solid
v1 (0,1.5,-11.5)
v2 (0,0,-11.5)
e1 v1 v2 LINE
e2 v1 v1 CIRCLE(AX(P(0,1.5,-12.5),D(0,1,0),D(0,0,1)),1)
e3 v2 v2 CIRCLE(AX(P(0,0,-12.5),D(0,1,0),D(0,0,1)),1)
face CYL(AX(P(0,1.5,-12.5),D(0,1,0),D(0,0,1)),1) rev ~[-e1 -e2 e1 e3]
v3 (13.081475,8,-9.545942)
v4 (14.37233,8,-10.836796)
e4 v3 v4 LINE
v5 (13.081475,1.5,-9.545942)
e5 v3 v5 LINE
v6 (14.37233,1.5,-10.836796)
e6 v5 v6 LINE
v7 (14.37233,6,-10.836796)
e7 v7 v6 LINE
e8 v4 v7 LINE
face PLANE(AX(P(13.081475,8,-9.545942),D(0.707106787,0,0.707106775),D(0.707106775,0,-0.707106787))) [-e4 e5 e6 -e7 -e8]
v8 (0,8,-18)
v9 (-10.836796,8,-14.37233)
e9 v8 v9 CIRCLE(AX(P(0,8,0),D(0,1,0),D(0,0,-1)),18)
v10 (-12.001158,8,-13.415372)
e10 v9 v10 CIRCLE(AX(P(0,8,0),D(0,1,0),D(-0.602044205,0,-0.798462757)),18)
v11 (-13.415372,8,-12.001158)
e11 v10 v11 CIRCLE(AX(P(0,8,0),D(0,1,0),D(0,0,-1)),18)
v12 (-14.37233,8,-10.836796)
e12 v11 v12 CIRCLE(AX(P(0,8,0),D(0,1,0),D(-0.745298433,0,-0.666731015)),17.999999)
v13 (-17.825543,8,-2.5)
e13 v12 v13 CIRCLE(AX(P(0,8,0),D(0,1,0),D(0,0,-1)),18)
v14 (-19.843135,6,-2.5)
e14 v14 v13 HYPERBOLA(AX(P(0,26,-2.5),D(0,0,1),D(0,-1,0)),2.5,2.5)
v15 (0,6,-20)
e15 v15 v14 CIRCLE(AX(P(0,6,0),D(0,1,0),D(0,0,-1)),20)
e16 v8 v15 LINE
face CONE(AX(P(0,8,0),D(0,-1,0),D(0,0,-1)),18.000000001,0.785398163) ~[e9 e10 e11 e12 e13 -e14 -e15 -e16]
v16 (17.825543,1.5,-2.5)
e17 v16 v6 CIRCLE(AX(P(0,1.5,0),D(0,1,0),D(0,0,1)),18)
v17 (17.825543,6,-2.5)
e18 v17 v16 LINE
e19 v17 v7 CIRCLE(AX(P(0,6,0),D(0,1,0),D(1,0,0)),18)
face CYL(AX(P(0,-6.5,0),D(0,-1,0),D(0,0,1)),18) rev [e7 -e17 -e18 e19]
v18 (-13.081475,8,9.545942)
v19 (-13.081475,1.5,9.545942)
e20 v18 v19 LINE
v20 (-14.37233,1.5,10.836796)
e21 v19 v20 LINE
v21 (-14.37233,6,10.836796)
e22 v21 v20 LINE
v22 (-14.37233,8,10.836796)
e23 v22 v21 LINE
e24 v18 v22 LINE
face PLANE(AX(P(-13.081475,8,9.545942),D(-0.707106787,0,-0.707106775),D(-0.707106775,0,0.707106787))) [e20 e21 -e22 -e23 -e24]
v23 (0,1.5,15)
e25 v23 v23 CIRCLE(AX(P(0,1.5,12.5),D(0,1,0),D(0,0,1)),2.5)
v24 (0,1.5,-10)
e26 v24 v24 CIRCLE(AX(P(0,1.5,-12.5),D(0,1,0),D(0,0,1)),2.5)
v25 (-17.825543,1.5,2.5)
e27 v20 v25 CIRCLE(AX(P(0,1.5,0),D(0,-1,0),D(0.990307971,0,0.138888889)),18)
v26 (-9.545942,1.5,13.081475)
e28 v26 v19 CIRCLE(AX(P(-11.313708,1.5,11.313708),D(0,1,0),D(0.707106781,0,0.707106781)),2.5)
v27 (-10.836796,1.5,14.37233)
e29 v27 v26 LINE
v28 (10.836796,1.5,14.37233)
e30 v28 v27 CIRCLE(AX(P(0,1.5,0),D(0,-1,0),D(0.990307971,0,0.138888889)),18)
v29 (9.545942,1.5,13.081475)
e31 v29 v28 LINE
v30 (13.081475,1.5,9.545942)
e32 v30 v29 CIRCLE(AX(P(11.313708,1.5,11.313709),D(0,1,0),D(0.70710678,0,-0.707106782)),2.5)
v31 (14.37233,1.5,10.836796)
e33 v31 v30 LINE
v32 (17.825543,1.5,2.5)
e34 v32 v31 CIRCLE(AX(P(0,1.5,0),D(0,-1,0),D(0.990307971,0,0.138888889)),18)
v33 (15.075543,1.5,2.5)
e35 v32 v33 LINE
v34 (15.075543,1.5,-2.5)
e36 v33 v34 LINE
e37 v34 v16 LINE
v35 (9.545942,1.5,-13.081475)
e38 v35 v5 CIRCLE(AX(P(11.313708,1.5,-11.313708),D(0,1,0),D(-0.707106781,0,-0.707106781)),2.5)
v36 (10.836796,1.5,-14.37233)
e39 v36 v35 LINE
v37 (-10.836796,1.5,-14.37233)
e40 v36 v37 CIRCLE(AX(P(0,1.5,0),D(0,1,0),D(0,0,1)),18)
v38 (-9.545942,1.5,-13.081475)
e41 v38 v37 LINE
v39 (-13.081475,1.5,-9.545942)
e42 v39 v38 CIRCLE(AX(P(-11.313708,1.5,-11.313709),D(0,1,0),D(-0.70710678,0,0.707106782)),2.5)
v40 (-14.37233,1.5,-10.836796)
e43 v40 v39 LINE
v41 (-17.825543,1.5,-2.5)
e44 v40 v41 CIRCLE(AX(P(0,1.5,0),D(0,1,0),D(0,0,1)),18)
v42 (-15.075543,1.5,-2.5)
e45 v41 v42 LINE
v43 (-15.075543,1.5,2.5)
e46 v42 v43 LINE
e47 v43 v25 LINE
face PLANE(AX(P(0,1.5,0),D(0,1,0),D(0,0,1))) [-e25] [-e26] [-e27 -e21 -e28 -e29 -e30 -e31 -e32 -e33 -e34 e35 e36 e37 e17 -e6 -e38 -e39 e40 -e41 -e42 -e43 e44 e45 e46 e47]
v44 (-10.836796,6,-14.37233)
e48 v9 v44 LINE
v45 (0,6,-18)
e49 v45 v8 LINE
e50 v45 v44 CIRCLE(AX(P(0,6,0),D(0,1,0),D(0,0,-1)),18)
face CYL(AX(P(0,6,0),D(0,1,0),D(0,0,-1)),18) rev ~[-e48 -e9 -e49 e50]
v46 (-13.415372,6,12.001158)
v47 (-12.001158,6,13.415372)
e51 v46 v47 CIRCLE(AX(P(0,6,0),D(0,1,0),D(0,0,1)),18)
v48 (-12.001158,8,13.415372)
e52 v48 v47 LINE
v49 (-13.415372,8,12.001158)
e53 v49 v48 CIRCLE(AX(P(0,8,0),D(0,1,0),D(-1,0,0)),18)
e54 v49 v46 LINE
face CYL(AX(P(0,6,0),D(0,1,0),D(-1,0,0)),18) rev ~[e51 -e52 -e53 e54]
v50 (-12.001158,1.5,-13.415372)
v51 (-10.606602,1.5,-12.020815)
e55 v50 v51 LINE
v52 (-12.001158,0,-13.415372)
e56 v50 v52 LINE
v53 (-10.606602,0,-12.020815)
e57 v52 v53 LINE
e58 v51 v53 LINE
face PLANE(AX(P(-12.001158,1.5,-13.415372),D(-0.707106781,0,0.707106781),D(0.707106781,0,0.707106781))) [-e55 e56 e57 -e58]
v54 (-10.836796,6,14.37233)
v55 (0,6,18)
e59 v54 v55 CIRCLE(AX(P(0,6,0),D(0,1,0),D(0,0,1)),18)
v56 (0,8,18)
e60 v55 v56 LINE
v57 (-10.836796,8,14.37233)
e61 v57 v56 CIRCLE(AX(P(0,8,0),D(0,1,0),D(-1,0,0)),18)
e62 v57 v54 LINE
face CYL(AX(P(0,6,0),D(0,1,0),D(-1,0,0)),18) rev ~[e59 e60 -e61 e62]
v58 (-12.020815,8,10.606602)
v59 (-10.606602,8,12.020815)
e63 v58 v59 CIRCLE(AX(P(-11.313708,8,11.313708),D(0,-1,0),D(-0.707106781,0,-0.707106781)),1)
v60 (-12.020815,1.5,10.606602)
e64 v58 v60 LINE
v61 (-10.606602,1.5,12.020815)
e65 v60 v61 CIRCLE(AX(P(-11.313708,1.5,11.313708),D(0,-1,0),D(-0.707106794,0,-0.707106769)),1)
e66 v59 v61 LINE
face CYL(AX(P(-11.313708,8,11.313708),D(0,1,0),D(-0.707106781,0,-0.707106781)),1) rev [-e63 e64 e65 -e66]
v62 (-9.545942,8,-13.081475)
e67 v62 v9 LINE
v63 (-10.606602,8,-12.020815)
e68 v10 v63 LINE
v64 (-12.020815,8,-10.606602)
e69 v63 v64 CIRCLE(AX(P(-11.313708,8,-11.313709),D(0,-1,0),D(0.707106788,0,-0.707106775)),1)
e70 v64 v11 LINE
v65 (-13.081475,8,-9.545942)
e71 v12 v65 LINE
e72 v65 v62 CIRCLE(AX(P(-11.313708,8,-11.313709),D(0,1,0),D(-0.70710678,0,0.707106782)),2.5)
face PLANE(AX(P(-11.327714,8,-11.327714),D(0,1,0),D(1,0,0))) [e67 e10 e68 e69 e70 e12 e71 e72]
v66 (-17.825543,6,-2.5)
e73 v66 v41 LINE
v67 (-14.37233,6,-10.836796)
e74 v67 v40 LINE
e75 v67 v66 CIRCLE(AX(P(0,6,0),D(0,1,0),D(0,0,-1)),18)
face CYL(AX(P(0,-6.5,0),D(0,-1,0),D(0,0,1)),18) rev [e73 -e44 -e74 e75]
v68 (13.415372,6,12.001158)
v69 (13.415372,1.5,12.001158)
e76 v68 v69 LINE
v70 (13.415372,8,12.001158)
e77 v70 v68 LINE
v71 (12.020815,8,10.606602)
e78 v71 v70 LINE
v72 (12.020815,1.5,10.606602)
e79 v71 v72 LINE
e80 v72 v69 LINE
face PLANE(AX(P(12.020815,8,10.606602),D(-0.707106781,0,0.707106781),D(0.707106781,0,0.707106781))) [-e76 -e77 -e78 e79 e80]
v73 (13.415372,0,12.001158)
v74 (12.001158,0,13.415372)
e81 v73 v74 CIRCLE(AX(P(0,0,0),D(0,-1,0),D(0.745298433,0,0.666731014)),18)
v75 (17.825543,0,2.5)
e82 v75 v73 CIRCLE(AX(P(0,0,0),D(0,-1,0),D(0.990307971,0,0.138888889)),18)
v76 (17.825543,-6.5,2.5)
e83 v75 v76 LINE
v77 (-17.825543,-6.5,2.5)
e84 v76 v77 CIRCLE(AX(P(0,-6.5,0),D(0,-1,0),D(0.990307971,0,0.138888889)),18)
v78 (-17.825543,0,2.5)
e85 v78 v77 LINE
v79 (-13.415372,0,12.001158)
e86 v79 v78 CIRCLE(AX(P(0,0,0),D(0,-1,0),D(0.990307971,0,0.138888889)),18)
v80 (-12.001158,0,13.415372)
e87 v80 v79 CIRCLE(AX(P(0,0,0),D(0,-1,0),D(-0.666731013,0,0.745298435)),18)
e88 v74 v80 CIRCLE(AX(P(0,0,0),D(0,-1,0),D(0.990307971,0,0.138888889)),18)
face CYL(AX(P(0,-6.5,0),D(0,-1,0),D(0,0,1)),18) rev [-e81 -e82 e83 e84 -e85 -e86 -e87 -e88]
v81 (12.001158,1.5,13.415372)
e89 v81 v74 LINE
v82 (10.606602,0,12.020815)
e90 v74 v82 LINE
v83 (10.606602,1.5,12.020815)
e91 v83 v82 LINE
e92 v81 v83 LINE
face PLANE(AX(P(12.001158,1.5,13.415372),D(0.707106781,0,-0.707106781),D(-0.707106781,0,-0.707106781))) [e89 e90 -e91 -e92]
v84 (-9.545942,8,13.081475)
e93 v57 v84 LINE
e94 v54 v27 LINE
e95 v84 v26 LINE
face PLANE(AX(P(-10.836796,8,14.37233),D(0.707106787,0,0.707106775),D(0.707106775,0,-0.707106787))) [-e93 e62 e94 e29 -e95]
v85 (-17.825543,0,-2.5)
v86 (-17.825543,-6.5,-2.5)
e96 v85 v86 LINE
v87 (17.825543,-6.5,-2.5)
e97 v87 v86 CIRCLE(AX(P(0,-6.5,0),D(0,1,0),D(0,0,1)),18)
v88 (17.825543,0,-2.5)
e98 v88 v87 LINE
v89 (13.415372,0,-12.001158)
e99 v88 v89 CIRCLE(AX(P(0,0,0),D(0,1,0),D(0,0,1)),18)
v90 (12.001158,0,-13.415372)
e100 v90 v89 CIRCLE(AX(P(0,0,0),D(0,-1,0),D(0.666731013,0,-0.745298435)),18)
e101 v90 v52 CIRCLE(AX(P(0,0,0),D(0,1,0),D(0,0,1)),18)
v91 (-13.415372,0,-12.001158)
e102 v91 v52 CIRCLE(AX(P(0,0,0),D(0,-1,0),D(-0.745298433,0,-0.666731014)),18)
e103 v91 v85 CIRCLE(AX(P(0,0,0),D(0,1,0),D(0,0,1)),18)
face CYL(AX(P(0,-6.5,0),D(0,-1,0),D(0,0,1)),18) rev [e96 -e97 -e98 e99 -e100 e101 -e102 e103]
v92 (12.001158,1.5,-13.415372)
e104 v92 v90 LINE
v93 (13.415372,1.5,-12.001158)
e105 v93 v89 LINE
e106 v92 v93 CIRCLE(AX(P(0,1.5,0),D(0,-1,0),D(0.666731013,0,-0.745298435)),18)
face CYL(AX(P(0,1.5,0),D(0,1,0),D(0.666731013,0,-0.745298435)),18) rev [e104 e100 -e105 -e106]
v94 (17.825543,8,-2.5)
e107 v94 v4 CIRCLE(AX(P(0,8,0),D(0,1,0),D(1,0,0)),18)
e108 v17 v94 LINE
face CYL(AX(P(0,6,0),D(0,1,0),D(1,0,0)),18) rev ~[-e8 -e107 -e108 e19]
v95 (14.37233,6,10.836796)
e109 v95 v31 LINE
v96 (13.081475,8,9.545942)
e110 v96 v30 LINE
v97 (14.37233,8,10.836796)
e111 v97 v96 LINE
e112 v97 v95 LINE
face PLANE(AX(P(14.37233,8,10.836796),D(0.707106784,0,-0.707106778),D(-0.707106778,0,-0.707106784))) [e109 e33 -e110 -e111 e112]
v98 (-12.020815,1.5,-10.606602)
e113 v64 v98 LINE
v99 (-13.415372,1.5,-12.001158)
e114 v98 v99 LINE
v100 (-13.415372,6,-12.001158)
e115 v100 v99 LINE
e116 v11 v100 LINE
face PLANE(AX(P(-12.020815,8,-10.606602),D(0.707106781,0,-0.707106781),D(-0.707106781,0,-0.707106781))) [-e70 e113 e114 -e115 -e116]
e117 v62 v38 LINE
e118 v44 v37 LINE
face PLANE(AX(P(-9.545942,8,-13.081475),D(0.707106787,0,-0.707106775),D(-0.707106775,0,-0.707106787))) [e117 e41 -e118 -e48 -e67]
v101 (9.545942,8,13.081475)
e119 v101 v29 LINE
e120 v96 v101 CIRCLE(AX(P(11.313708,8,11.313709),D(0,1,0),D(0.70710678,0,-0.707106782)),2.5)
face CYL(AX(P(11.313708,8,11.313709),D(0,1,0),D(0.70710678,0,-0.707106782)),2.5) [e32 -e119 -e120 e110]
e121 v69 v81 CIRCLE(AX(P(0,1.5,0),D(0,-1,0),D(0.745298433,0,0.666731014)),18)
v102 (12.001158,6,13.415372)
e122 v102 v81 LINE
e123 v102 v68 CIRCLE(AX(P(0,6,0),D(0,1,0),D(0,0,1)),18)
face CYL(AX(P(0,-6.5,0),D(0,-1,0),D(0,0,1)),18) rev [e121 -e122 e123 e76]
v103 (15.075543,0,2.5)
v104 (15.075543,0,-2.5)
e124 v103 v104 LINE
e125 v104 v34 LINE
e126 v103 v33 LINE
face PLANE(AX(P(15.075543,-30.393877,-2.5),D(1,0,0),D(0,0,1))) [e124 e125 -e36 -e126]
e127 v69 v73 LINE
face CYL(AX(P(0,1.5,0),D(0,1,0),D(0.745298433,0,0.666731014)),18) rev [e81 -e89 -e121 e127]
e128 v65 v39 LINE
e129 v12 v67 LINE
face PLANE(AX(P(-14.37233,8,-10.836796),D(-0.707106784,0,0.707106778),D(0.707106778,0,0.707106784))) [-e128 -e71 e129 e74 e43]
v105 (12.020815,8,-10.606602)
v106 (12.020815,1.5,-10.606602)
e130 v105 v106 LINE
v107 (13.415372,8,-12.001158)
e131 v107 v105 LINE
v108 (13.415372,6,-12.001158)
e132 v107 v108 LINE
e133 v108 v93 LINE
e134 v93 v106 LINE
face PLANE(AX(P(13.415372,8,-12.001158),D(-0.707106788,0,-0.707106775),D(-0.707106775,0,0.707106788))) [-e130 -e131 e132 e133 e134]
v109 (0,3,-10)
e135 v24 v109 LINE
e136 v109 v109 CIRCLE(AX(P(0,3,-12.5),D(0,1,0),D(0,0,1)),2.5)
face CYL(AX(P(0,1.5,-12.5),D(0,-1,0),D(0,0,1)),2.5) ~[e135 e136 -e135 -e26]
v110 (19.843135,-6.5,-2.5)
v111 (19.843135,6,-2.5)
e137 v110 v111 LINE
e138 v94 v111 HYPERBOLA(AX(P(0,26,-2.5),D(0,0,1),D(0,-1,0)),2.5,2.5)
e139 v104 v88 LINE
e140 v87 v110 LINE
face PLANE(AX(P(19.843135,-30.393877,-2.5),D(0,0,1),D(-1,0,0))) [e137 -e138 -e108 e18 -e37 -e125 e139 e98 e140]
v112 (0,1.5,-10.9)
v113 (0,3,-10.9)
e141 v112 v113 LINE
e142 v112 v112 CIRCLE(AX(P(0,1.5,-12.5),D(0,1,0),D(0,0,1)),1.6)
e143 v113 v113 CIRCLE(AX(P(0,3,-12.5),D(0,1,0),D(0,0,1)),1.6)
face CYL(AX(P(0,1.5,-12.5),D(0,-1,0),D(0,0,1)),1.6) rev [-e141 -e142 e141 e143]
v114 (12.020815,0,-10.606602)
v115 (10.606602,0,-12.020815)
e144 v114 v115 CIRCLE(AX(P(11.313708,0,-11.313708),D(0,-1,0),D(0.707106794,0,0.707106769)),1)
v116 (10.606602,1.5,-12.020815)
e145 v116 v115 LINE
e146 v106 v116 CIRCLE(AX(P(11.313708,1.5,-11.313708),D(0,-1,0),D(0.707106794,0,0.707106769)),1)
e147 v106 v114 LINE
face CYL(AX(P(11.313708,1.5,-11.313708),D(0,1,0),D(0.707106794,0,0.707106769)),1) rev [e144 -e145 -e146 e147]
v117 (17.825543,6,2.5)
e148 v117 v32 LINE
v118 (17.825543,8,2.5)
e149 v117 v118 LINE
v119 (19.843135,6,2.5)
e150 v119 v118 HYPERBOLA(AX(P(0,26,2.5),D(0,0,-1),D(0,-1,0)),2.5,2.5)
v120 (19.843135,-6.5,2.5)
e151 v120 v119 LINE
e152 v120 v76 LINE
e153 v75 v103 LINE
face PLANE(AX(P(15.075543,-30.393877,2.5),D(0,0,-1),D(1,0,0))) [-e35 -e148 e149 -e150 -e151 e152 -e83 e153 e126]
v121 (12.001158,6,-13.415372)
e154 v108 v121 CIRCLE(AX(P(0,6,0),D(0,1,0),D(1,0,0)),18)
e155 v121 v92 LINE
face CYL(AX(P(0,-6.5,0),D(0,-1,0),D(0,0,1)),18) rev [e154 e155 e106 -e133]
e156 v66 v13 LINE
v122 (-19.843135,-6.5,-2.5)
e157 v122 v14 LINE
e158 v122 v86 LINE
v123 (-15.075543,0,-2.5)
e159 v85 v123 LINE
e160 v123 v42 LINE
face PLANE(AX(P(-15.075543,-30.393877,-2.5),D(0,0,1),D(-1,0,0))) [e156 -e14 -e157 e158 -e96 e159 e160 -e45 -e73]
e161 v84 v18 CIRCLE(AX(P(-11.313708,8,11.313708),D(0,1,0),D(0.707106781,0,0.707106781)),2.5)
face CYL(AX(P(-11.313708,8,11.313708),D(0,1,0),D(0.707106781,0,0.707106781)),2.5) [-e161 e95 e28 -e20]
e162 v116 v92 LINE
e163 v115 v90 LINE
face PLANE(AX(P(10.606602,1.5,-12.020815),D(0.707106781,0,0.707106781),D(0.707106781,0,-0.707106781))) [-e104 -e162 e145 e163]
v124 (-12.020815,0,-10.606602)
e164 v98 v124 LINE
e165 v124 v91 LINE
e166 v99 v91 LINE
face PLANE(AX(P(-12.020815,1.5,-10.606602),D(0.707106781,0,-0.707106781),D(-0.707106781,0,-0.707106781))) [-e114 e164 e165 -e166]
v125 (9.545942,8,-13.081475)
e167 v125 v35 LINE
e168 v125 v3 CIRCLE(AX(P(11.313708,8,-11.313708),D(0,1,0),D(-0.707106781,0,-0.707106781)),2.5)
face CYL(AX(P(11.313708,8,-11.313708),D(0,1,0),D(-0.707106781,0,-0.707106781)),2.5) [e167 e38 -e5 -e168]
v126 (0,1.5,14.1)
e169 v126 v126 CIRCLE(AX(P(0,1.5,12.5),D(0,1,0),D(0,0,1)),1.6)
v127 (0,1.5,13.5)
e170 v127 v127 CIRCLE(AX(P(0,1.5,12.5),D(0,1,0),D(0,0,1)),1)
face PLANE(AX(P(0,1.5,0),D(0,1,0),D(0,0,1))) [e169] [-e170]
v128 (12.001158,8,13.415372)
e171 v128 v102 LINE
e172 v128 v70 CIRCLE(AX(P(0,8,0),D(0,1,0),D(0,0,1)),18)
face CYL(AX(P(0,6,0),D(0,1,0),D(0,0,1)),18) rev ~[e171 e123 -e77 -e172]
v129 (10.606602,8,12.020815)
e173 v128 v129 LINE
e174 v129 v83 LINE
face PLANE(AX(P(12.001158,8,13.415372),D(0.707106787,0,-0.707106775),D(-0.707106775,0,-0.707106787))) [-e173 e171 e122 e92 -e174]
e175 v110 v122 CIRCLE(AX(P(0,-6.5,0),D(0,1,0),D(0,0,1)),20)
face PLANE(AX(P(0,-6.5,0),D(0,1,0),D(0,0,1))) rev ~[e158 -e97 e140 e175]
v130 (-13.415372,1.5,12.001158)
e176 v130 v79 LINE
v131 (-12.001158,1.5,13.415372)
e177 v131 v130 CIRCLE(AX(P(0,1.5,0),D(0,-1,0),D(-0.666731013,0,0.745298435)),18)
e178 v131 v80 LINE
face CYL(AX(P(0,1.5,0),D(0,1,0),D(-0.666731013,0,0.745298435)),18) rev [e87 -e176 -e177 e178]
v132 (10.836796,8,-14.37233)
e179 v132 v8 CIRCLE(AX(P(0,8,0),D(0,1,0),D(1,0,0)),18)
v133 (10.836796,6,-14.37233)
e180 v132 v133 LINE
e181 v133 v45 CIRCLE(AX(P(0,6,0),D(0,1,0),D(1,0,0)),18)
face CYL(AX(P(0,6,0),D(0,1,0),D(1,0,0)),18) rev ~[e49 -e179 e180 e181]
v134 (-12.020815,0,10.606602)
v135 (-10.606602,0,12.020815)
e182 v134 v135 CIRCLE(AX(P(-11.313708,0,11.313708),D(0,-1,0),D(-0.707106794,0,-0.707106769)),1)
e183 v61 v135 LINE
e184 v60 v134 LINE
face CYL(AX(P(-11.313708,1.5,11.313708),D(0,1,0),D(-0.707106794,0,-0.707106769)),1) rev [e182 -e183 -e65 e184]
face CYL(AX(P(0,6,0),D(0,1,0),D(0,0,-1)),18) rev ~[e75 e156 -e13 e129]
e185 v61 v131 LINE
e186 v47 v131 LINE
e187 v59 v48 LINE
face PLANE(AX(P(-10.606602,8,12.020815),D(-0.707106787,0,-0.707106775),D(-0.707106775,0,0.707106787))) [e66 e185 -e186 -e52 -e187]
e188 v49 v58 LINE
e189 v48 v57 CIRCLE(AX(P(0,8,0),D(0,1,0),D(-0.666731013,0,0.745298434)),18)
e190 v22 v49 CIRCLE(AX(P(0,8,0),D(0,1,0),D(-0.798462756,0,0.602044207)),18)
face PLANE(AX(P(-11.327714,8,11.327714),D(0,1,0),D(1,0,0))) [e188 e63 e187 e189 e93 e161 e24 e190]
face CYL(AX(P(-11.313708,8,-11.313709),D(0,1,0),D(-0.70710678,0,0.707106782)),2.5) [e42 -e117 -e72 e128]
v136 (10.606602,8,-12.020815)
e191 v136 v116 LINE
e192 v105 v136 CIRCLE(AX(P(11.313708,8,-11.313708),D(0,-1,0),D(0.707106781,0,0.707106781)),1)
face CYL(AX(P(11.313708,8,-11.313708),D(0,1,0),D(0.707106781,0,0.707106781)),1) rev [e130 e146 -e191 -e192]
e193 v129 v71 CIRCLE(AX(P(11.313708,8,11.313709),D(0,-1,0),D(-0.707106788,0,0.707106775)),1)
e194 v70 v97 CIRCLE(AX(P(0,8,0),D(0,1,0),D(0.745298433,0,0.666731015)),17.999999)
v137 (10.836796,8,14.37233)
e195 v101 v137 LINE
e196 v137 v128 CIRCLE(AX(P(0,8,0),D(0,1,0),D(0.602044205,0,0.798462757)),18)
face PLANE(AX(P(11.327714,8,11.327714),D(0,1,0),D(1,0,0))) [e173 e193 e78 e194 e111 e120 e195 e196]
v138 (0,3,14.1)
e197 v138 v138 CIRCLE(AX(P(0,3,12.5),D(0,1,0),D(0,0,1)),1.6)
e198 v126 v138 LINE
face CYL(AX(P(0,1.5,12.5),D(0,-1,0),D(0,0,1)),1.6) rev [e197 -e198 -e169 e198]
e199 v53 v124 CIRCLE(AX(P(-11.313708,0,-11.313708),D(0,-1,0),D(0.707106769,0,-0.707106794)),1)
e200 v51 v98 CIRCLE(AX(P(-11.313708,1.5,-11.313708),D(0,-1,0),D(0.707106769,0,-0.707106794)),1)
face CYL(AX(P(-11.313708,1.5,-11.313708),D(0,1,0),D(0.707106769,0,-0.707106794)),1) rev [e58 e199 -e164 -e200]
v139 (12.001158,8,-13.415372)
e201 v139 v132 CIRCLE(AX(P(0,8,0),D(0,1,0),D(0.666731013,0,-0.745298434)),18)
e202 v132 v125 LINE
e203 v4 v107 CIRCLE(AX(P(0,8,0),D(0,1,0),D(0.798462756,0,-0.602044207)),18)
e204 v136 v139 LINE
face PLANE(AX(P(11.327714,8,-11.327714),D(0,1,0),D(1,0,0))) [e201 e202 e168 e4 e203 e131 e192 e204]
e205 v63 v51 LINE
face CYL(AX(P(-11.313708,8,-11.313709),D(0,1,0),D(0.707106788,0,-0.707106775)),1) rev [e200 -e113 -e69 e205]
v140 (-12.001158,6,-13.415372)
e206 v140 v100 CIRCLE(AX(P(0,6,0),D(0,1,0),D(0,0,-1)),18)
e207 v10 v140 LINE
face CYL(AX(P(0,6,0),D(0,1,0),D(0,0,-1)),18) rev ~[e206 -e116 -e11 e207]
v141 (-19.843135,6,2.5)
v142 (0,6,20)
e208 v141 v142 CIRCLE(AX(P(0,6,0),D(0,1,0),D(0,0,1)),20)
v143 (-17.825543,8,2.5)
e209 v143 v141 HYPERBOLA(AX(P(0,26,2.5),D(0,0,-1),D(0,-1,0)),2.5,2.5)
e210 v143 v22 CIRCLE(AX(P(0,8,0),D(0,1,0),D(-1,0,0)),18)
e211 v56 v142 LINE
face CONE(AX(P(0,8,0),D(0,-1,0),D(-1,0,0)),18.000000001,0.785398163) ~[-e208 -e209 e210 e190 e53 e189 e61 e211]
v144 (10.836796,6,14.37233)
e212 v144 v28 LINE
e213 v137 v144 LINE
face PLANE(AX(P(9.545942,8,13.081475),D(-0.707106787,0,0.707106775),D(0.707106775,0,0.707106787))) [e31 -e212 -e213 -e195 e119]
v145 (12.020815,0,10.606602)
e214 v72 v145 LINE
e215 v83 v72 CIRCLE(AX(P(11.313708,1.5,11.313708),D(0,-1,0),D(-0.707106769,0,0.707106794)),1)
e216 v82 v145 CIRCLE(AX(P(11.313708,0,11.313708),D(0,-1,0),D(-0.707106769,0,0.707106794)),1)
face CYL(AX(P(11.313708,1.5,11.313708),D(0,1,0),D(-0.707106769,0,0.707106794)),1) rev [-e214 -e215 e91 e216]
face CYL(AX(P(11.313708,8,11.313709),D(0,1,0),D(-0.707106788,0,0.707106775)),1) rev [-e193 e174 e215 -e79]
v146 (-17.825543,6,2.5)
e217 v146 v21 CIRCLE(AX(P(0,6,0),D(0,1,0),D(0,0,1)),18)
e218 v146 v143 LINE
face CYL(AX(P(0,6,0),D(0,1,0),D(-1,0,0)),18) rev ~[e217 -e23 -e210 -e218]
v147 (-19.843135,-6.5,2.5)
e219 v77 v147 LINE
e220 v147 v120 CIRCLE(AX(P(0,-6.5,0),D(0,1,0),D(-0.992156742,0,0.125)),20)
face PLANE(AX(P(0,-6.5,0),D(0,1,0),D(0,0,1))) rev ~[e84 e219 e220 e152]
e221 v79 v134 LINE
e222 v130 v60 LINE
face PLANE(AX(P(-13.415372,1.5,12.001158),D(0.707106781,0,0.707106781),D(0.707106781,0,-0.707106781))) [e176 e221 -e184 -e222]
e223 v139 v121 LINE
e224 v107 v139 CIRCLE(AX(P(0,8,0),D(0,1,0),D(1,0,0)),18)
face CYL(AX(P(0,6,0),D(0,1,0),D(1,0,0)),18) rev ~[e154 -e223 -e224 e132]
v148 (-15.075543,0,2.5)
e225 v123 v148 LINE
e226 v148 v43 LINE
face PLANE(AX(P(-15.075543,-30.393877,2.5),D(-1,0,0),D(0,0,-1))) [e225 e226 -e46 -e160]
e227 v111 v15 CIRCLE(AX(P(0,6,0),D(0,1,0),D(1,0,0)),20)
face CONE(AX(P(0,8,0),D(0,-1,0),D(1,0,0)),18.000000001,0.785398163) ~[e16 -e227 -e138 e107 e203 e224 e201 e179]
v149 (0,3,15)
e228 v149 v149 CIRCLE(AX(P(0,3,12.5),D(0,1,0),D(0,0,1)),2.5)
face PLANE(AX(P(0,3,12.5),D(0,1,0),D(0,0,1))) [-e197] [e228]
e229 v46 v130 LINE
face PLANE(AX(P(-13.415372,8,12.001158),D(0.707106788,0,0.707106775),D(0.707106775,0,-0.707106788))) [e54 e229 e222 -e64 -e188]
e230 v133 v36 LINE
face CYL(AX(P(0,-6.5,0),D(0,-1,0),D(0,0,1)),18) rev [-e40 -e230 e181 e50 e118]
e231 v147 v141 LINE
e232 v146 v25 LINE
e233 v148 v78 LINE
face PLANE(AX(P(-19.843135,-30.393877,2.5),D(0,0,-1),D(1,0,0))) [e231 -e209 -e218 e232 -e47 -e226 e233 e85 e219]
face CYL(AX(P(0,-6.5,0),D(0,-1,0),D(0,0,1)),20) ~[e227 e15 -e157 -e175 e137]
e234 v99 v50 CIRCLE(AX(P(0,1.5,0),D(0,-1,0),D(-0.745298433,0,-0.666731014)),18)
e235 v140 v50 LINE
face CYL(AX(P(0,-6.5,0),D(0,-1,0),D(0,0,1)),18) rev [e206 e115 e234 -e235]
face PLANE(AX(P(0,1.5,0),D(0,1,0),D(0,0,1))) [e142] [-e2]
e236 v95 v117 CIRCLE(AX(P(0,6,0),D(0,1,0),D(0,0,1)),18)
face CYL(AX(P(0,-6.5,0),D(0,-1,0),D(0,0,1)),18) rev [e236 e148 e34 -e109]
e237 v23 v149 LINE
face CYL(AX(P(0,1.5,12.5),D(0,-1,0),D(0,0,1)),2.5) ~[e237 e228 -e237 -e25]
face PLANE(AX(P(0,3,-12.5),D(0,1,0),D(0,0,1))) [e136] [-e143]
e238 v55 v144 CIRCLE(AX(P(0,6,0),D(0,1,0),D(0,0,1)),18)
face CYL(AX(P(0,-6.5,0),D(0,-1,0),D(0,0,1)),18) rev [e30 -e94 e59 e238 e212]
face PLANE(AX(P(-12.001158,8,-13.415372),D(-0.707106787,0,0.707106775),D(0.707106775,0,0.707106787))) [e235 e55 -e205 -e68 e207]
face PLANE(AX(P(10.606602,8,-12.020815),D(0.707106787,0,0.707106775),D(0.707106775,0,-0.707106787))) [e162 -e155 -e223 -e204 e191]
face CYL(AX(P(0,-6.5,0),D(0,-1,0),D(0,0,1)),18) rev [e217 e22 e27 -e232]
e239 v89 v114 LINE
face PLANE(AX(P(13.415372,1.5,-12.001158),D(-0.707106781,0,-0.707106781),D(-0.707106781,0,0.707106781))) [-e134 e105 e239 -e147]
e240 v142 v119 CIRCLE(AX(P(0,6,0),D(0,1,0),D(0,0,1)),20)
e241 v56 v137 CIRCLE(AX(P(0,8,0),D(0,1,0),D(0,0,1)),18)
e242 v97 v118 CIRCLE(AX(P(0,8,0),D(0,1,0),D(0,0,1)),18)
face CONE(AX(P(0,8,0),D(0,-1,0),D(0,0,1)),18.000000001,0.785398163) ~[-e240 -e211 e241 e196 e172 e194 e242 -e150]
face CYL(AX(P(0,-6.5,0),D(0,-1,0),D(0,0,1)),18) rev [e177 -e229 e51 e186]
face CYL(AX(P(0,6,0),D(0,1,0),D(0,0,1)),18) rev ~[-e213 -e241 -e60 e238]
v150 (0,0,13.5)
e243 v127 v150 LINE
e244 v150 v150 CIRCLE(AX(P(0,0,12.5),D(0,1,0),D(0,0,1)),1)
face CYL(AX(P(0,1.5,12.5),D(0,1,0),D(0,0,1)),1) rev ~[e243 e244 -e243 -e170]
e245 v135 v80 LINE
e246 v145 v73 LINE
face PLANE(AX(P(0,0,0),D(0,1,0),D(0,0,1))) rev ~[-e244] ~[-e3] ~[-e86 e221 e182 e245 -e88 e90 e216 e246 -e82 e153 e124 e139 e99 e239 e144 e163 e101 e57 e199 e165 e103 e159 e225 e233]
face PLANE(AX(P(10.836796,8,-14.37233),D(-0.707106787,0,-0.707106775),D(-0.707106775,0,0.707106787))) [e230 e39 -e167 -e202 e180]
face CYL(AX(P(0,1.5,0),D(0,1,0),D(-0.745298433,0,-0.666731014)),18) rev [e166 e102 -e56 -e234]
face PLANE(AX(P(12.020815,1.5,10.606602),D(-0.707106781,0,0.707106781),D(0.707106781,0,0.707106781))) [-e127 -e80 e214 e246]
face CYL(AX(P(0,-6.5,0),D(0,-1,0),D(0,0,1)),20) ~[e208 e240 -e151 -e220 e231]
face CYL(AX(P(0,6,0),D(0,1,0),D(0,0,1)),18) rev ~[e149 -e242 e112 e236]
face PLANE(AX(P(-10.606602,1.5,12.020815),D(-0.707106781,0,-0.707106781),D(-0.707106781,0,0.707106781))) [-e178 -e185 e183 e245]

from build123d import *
from build123d.topology import SkipClean

# Parameters (mm, degrees)
SKETCH_1_R               = 18
EXTRUDE_1_DEPTH          = 1.5
EXTRUDE_2_DEPTH          = 6
EXTRUDE_2_DEPTH_BACK     = 6.5
SKETCH_2_R               = 20
SKETCH_2_R_2             = 18
CUT_EXTRUDE_START        = 1.5
SKETCH_6_R               = 1
CUT_EXTRUDE_4_DEPTH      = 8
CUT_EXTRUDE_5_DEPTH      = 30.393876913
CUT_EXTRUDE_5_DEPTH_BACK = 30.393876913
CUT_EXTRUDE_6_DEPTH      = 1.5
EXTRUDE_START            = 8
EXTRUDE_3_DEPTH          = 6.5
EXTRUDE_START_2          = 1.5
SKETCH_10_R              = 2.5
SKETCH_10_R_2            = 1.6
EXTRUDE_4_DEPTH          = 1.5


with BuildPart() as part:
    # 草图1 → 凸台-拉伸1 (new body)
    with BuildSketch(Plane(origin=(0, 0, 0), x_dir=(1, 0, 0), z_dir=(0, 1, 0))):
        with Locations(Location((0, 0, 0), (0, 0, 270))):
            Circle(SKETCH_1_R)
    extrude(amount=EXTRUDE_1_DEPTH)

    # 草图2 → 凸台-拉伸2 (add, two sides: drawn at the far end of the back side and taken through both)
    with BuildSketch(Plane(origin=(0, 0, 0), x_dir=(1, 0, 0), z_dir=(0, 1, 0)).offset(-EXTRUDE_2_DEPTH_BACK)):
        with Locations(Location((0, 0, 0), (0, 0, 270))):
            Circle(SKETCH_2_R)
        with Locations(Location((0, 0, 0), (0, 0, 270))):
            Circle(SKETCH_2_R_2, mode=Mode.SUBTRACT)
    extrude(amount=EXTRUDE_2_DEPTH + EXTRUDE_2_DEPTH_BACK)

    # 扫描2: sweep along a curve in space
    with SkipClean():  # the faces are left unmerged after this step: merging them gives an invalid solid
        with BuildLine() as sweep_2_path:
            ThreePointArc((0, 6, 18), (12.727922061, 6, 12.727922061), (18, 6, 0))
            ThreePointArc((18, 6, 0), (12.727922061, 6, -12.727922061), (0, 6, -18))
            ThreePointArc((0, 6, -18), (-12.727922061, 6, -12.727922061), (-18, 6, 0))
            ThreePointArc((-18, 6, 0), (-12.727922061, 6, 12.727922061), (0, 6, 18))
        # 草图5 → 扫描2 (sweep)
        with BuildSketch(Plane.XY):
            Polygon((-20, 6), (-18, 6), (-18, 8), align=None)
        sweep(path=sweep_2_path.line)

    # 草图6 → 切除-拉伸4 (cut)
    with SkipClean():  # the faces are left unmerged after this step: merging them gives an invalid solid
        with BuildSketch(Plane(origin=(0, 0, 0), x_dir=(1, 0, 0), z_dir=(0, 1, 0)).offset(CUT_EXTRUDE_START)):
            with Locations(Location((0, -12.5, 0), (0, 0, 270))):
                Circle(SKETCH_6_R)
            with Locations(Location((0, 12.5, 0), (0, 0, 270))):
                Circle(SKETCH_6_R)
        extrude(amount=-CUT_EXTRUDE_4_DEPTH, mode=Mode.SUBTRACT)

    # 草图7 → 切除-拉伸5 (cut, two sides: drawn at the far end of the back side and taken through both)
    with BuildSketch(Plane(origin=(0, 0, 0), x_dir=(1, 0, 0), z_dir=(0, 1, 0)).offset(-CUT_EXTRUDE_5_DEPTH_BACK)):
        with BuildLine():
            Line((-19.843134833, -2.5), (-15.07554347, -2.5))
            Line((-15.07554347, -2.5), (-15.07554347, 2.5))
            Line((-15.07554347, 2.5), (-19.843134833, 2.5))
            ThreePointArc((-19.843134833, 2.5), (-20, 0), (-19.843134833, -2.5))
        make_face()
        with BuildLine():
            Line((15.07554347, 2.5), (15.07554347, -2.5))
            Line((15.07554347, -2.5), (19.843134833, -2.5))
            ThreePointArc((19.843134833, -2.5), (20, 0), (19.843134833, 2.5))
            Line((19.843134833, 2.5), (15.07554347, 2.5))
        make_face()
    extrude(amount=CUT_EXTRUDE_5_DEPTH + CUT_EXTRUDE_5_DEPTH_BACK, mode=Mode.SUBTRACT)

    # 草图8 → 切除-拉伸6 (cut)
    with SkipClean():  # the faces are left unmerged after this step: merging them gives an invalid solid
        with BuildSketch(Plane(origin=(0, 0, 0), x_dir=(1, 0, 0), z_dir=(0, 1, 0)).offset(CUT_EXTRUDE_START)):
            with BuildLine():
                Line((10.606601706, 12.020815293), (12.001158233, 13.41537182))
                ThreePointArc((12.001158233, 13.41537182), (12.727922049, 12.727922074), (13.415371797, 12.001158259))
                Line((13.415371797, 12.001158259), (12.020815268, 10.606601731))
                ThreePointArc((12.020815268, 10.606601731), (10.606601706, 10.606601706), (10.606601706, 12.020815293))
            make_face()
            with BuildLine():
                Line((12.020815268, -10.606601731), (13.415371797, -12.001158259))
                ThreePointArc((13.415371797, -12.001158259), (12.727922049, -12.727922074), (12.001158233, -13.41537182))
                Line((12.001158233, -13.41537182), (10.606601706, -12.020815293))
                ThreePointArc((10.606601706, -12.020815293), (10.606601706, -10.606601706), (12.020815268, -10.606601731))
            make_face()
            with BuildLine():
                Line((-10.606601706, -12.020815293), (-12.001158233, -13.41537182))
                ThreePointArc((-12.001158233, -13.41537182), (-12.727922049, -12.727922074), (-13.415371797, -12.001158259))
                Line((-13.415371797, -12.001158259), (-12.020815268, -10.606601731))
                ThreePointArc((-12.020815268, -10.606601731), (-10.606601706, -10.606601706), (-10.606601706, -12.020815293))
            make_face()
            with BuildLine():
                Line((-12.020815268, 10.606601731), (-13.415371797, 12.001158259))
                ThreePointArc((-13.415371797, 12.001158259), (-12.727922049, 12.727922074), (-12.001158233, 13.41537182))
                Line((-12.001158233, 13.41537182), (-10.606601706, 12.020815293))
                ThreePointArc((-10.606601706, 12.020815293), (-10.606601706, 10.606601706), (-12.020815268, 10.606601731))
            make_face()
        extrude(amount=-CUT_EXTRUDE_6_DEPTH, mode=Mode.SUBTRACT)

    # 草图9 → 凸台-拉伸3 (add)
    with SkipClean():  # the faces are left unmerged after this step: merging them gives an invalid solid
        with BuildSketch(Plane(origin=(0, 0, 0), x_dir=(1, 0, 0), z_dir=(0, 1, 0)).offset(EXTRUDE_START)):
            with BuildLine():
                Line((12.020815268, -10.606601731), (13.415371797, -12.001158259))
                ThreePointArc((13.415371797, -12.001158259), (13.906042657, -11.428997228), (14.372329608, -10.836795727))
                Line((14.372329608, -10.836795727), (13.081475446, -9.545941553))
                ThreePointArc((13.081475446, -9.545941553), (9.545941558, -9.545941548), (9.545941537, -13.081475443))
                Line((9.545941537, -13.081475443), (10.8367957, -14.372329629))
                ThreePointArc((10.8367957, -14.372329629), (11.428997201, -13.906042679), (12.001158233, -13.41537182))
                Line((12.001158233, -13.41537182), (10.606601718, -12.020815281))
                ThreePointArc((10.606601718, -12.020815281), (10.606601731, -10.606601731), (12.020815268, -10.606601731))
            make_face()
            with BuildLine():
                Line((-10.606601718, -12.020815281), (-12.001158233, -13.41537182))
                ThreePointArc((-12.001158233, -13.41537182), (-11.428997201, -13.906042679), (-10.8367957, -14.372329629))
                Line((-10.8367957, -14.372329629), (-9.545941547, -13.081475453))
                ThreePointArc((-9.545941547, -13.081475453), (-9.545941551, -9.545941542), (-13.081475462, -9.545941556))
                Line((-13.081475462, -9.545941556), (-14.372329609, -10.836795726))
                ThreePointArc((-14.372329609, -10.836795726), (-13.906042657, -11.428997227), (-13.415371797, -12.001158259))
                Line((-13.415371797, -12.001158259), (-12.020815281, -10.606601718))
                ThreePointArc((-12.020815281, -10.606601718), (-10.606601718, -10.606601718), (-10.606601718, -12.020815281))
            make_face()
            with BuildLine():
                Line((10.606601718, 12.020815281), (12.001158233, 13.41537182))
                ThreePointArc((12.001158233, 13.41537182), (11.428997201, 13.906042679), (10.8367957, 14.372329629))
                Line((10.8367957, 14.372329629), (9.545941547, 13.081475453))
                ThreePointArc((9.545941547, 13.081475453), (9.545941551, 9.545941542), (13.081475462, 9.545941556))
                Line((13.081475462, 9.545941556), (14.372329609, 10.836795726))
                ThreePointArc((14.372329609, 10.836795726), (13.906042657, 11.428997227), (13.415371797, 12.001158259))
                Line((13.415371797, 12.001158259), (12.020815281, 10.606601718))
                ThreePointArc((12.020815281, 10.606601718), (10.606601718, 10.606601718), (10.606601718, 12.020815281))
            make_face()
            with BuildLine():
                Line((-12.020815268, 10.606601731), (-13.415371797, 12.001158259))
                ThreePointArc((-13.415371797, 12.001158259), (-13.906042657, 11.428997228), (-14.372329608, 10.836795727))
                Line((-14.372329608, 10.836795727), (-13.081475446, 9.545941553))
                ThreePointArc((-13.081475446, 9.545941553), (-9.545941558, 9.545941548), (-9.545941537, 13.081475443))
                Line((-9.545941537, 13.081475443), (-10.8367957, 14.372329629))
                ThreePointArc((-10.8367957, 14.372329629), (-11.428997201, 13.906042679), (-12.001158233, 13.41537182))
                Line((-12.001158233, 13.41537182), (-10.606601718, 12.020815281))
                ThreePointArc((-10.606601718, 12.020815281), (-10.606601731, 10.606601731), (-12.020815268, 10.606601731))
            make_face()
        extrude(amount=-EXTRUDE_3_DEPTH)

    # 草图10 → 凸台-拉伸4 (add)
    # profile 1 of 2: a face of its own
    with SkipClean():  # the faces are left unmerged after this step: merging them gives an invalid solid
        with BuildSketch(Plane(origin=(0, 0, 0), x_dir=(1, 0, 0), z_dir=(0, 1, 0)).offset(EXTRUDE_START_2)):
            with Locations(Location((0, 12.5, 0), (0, 0, 270))):
                Circle(SKETCH_10_R)
            with Locations(Location((0, 12.5, 0), (0, 0, 270))):
                Circle(SKETCH_10_R_2, mode=Mode.SUBTRACT)
        # profile 2 of 2: a face of its own
        with BuildSketch(Plane(origin=(0, 0, 0), x_dir=(1, 0, 0), z_dir=(0, 1, 0)).offset(EXTRUDE_START_2)):
            with Locations(Location((0, -12.5, 0), (0, 0, 270))):
                Circle(SKETCH_10_R)
            with Locations(Location((0, -12.5, 0), (0, 0, 270))):
                Circle(SKETCH_10_R_2, mode=Mode.SUBTRACT)
        extrude(amount=EXTRUDE_4_DEPTH)


solid = part.part
